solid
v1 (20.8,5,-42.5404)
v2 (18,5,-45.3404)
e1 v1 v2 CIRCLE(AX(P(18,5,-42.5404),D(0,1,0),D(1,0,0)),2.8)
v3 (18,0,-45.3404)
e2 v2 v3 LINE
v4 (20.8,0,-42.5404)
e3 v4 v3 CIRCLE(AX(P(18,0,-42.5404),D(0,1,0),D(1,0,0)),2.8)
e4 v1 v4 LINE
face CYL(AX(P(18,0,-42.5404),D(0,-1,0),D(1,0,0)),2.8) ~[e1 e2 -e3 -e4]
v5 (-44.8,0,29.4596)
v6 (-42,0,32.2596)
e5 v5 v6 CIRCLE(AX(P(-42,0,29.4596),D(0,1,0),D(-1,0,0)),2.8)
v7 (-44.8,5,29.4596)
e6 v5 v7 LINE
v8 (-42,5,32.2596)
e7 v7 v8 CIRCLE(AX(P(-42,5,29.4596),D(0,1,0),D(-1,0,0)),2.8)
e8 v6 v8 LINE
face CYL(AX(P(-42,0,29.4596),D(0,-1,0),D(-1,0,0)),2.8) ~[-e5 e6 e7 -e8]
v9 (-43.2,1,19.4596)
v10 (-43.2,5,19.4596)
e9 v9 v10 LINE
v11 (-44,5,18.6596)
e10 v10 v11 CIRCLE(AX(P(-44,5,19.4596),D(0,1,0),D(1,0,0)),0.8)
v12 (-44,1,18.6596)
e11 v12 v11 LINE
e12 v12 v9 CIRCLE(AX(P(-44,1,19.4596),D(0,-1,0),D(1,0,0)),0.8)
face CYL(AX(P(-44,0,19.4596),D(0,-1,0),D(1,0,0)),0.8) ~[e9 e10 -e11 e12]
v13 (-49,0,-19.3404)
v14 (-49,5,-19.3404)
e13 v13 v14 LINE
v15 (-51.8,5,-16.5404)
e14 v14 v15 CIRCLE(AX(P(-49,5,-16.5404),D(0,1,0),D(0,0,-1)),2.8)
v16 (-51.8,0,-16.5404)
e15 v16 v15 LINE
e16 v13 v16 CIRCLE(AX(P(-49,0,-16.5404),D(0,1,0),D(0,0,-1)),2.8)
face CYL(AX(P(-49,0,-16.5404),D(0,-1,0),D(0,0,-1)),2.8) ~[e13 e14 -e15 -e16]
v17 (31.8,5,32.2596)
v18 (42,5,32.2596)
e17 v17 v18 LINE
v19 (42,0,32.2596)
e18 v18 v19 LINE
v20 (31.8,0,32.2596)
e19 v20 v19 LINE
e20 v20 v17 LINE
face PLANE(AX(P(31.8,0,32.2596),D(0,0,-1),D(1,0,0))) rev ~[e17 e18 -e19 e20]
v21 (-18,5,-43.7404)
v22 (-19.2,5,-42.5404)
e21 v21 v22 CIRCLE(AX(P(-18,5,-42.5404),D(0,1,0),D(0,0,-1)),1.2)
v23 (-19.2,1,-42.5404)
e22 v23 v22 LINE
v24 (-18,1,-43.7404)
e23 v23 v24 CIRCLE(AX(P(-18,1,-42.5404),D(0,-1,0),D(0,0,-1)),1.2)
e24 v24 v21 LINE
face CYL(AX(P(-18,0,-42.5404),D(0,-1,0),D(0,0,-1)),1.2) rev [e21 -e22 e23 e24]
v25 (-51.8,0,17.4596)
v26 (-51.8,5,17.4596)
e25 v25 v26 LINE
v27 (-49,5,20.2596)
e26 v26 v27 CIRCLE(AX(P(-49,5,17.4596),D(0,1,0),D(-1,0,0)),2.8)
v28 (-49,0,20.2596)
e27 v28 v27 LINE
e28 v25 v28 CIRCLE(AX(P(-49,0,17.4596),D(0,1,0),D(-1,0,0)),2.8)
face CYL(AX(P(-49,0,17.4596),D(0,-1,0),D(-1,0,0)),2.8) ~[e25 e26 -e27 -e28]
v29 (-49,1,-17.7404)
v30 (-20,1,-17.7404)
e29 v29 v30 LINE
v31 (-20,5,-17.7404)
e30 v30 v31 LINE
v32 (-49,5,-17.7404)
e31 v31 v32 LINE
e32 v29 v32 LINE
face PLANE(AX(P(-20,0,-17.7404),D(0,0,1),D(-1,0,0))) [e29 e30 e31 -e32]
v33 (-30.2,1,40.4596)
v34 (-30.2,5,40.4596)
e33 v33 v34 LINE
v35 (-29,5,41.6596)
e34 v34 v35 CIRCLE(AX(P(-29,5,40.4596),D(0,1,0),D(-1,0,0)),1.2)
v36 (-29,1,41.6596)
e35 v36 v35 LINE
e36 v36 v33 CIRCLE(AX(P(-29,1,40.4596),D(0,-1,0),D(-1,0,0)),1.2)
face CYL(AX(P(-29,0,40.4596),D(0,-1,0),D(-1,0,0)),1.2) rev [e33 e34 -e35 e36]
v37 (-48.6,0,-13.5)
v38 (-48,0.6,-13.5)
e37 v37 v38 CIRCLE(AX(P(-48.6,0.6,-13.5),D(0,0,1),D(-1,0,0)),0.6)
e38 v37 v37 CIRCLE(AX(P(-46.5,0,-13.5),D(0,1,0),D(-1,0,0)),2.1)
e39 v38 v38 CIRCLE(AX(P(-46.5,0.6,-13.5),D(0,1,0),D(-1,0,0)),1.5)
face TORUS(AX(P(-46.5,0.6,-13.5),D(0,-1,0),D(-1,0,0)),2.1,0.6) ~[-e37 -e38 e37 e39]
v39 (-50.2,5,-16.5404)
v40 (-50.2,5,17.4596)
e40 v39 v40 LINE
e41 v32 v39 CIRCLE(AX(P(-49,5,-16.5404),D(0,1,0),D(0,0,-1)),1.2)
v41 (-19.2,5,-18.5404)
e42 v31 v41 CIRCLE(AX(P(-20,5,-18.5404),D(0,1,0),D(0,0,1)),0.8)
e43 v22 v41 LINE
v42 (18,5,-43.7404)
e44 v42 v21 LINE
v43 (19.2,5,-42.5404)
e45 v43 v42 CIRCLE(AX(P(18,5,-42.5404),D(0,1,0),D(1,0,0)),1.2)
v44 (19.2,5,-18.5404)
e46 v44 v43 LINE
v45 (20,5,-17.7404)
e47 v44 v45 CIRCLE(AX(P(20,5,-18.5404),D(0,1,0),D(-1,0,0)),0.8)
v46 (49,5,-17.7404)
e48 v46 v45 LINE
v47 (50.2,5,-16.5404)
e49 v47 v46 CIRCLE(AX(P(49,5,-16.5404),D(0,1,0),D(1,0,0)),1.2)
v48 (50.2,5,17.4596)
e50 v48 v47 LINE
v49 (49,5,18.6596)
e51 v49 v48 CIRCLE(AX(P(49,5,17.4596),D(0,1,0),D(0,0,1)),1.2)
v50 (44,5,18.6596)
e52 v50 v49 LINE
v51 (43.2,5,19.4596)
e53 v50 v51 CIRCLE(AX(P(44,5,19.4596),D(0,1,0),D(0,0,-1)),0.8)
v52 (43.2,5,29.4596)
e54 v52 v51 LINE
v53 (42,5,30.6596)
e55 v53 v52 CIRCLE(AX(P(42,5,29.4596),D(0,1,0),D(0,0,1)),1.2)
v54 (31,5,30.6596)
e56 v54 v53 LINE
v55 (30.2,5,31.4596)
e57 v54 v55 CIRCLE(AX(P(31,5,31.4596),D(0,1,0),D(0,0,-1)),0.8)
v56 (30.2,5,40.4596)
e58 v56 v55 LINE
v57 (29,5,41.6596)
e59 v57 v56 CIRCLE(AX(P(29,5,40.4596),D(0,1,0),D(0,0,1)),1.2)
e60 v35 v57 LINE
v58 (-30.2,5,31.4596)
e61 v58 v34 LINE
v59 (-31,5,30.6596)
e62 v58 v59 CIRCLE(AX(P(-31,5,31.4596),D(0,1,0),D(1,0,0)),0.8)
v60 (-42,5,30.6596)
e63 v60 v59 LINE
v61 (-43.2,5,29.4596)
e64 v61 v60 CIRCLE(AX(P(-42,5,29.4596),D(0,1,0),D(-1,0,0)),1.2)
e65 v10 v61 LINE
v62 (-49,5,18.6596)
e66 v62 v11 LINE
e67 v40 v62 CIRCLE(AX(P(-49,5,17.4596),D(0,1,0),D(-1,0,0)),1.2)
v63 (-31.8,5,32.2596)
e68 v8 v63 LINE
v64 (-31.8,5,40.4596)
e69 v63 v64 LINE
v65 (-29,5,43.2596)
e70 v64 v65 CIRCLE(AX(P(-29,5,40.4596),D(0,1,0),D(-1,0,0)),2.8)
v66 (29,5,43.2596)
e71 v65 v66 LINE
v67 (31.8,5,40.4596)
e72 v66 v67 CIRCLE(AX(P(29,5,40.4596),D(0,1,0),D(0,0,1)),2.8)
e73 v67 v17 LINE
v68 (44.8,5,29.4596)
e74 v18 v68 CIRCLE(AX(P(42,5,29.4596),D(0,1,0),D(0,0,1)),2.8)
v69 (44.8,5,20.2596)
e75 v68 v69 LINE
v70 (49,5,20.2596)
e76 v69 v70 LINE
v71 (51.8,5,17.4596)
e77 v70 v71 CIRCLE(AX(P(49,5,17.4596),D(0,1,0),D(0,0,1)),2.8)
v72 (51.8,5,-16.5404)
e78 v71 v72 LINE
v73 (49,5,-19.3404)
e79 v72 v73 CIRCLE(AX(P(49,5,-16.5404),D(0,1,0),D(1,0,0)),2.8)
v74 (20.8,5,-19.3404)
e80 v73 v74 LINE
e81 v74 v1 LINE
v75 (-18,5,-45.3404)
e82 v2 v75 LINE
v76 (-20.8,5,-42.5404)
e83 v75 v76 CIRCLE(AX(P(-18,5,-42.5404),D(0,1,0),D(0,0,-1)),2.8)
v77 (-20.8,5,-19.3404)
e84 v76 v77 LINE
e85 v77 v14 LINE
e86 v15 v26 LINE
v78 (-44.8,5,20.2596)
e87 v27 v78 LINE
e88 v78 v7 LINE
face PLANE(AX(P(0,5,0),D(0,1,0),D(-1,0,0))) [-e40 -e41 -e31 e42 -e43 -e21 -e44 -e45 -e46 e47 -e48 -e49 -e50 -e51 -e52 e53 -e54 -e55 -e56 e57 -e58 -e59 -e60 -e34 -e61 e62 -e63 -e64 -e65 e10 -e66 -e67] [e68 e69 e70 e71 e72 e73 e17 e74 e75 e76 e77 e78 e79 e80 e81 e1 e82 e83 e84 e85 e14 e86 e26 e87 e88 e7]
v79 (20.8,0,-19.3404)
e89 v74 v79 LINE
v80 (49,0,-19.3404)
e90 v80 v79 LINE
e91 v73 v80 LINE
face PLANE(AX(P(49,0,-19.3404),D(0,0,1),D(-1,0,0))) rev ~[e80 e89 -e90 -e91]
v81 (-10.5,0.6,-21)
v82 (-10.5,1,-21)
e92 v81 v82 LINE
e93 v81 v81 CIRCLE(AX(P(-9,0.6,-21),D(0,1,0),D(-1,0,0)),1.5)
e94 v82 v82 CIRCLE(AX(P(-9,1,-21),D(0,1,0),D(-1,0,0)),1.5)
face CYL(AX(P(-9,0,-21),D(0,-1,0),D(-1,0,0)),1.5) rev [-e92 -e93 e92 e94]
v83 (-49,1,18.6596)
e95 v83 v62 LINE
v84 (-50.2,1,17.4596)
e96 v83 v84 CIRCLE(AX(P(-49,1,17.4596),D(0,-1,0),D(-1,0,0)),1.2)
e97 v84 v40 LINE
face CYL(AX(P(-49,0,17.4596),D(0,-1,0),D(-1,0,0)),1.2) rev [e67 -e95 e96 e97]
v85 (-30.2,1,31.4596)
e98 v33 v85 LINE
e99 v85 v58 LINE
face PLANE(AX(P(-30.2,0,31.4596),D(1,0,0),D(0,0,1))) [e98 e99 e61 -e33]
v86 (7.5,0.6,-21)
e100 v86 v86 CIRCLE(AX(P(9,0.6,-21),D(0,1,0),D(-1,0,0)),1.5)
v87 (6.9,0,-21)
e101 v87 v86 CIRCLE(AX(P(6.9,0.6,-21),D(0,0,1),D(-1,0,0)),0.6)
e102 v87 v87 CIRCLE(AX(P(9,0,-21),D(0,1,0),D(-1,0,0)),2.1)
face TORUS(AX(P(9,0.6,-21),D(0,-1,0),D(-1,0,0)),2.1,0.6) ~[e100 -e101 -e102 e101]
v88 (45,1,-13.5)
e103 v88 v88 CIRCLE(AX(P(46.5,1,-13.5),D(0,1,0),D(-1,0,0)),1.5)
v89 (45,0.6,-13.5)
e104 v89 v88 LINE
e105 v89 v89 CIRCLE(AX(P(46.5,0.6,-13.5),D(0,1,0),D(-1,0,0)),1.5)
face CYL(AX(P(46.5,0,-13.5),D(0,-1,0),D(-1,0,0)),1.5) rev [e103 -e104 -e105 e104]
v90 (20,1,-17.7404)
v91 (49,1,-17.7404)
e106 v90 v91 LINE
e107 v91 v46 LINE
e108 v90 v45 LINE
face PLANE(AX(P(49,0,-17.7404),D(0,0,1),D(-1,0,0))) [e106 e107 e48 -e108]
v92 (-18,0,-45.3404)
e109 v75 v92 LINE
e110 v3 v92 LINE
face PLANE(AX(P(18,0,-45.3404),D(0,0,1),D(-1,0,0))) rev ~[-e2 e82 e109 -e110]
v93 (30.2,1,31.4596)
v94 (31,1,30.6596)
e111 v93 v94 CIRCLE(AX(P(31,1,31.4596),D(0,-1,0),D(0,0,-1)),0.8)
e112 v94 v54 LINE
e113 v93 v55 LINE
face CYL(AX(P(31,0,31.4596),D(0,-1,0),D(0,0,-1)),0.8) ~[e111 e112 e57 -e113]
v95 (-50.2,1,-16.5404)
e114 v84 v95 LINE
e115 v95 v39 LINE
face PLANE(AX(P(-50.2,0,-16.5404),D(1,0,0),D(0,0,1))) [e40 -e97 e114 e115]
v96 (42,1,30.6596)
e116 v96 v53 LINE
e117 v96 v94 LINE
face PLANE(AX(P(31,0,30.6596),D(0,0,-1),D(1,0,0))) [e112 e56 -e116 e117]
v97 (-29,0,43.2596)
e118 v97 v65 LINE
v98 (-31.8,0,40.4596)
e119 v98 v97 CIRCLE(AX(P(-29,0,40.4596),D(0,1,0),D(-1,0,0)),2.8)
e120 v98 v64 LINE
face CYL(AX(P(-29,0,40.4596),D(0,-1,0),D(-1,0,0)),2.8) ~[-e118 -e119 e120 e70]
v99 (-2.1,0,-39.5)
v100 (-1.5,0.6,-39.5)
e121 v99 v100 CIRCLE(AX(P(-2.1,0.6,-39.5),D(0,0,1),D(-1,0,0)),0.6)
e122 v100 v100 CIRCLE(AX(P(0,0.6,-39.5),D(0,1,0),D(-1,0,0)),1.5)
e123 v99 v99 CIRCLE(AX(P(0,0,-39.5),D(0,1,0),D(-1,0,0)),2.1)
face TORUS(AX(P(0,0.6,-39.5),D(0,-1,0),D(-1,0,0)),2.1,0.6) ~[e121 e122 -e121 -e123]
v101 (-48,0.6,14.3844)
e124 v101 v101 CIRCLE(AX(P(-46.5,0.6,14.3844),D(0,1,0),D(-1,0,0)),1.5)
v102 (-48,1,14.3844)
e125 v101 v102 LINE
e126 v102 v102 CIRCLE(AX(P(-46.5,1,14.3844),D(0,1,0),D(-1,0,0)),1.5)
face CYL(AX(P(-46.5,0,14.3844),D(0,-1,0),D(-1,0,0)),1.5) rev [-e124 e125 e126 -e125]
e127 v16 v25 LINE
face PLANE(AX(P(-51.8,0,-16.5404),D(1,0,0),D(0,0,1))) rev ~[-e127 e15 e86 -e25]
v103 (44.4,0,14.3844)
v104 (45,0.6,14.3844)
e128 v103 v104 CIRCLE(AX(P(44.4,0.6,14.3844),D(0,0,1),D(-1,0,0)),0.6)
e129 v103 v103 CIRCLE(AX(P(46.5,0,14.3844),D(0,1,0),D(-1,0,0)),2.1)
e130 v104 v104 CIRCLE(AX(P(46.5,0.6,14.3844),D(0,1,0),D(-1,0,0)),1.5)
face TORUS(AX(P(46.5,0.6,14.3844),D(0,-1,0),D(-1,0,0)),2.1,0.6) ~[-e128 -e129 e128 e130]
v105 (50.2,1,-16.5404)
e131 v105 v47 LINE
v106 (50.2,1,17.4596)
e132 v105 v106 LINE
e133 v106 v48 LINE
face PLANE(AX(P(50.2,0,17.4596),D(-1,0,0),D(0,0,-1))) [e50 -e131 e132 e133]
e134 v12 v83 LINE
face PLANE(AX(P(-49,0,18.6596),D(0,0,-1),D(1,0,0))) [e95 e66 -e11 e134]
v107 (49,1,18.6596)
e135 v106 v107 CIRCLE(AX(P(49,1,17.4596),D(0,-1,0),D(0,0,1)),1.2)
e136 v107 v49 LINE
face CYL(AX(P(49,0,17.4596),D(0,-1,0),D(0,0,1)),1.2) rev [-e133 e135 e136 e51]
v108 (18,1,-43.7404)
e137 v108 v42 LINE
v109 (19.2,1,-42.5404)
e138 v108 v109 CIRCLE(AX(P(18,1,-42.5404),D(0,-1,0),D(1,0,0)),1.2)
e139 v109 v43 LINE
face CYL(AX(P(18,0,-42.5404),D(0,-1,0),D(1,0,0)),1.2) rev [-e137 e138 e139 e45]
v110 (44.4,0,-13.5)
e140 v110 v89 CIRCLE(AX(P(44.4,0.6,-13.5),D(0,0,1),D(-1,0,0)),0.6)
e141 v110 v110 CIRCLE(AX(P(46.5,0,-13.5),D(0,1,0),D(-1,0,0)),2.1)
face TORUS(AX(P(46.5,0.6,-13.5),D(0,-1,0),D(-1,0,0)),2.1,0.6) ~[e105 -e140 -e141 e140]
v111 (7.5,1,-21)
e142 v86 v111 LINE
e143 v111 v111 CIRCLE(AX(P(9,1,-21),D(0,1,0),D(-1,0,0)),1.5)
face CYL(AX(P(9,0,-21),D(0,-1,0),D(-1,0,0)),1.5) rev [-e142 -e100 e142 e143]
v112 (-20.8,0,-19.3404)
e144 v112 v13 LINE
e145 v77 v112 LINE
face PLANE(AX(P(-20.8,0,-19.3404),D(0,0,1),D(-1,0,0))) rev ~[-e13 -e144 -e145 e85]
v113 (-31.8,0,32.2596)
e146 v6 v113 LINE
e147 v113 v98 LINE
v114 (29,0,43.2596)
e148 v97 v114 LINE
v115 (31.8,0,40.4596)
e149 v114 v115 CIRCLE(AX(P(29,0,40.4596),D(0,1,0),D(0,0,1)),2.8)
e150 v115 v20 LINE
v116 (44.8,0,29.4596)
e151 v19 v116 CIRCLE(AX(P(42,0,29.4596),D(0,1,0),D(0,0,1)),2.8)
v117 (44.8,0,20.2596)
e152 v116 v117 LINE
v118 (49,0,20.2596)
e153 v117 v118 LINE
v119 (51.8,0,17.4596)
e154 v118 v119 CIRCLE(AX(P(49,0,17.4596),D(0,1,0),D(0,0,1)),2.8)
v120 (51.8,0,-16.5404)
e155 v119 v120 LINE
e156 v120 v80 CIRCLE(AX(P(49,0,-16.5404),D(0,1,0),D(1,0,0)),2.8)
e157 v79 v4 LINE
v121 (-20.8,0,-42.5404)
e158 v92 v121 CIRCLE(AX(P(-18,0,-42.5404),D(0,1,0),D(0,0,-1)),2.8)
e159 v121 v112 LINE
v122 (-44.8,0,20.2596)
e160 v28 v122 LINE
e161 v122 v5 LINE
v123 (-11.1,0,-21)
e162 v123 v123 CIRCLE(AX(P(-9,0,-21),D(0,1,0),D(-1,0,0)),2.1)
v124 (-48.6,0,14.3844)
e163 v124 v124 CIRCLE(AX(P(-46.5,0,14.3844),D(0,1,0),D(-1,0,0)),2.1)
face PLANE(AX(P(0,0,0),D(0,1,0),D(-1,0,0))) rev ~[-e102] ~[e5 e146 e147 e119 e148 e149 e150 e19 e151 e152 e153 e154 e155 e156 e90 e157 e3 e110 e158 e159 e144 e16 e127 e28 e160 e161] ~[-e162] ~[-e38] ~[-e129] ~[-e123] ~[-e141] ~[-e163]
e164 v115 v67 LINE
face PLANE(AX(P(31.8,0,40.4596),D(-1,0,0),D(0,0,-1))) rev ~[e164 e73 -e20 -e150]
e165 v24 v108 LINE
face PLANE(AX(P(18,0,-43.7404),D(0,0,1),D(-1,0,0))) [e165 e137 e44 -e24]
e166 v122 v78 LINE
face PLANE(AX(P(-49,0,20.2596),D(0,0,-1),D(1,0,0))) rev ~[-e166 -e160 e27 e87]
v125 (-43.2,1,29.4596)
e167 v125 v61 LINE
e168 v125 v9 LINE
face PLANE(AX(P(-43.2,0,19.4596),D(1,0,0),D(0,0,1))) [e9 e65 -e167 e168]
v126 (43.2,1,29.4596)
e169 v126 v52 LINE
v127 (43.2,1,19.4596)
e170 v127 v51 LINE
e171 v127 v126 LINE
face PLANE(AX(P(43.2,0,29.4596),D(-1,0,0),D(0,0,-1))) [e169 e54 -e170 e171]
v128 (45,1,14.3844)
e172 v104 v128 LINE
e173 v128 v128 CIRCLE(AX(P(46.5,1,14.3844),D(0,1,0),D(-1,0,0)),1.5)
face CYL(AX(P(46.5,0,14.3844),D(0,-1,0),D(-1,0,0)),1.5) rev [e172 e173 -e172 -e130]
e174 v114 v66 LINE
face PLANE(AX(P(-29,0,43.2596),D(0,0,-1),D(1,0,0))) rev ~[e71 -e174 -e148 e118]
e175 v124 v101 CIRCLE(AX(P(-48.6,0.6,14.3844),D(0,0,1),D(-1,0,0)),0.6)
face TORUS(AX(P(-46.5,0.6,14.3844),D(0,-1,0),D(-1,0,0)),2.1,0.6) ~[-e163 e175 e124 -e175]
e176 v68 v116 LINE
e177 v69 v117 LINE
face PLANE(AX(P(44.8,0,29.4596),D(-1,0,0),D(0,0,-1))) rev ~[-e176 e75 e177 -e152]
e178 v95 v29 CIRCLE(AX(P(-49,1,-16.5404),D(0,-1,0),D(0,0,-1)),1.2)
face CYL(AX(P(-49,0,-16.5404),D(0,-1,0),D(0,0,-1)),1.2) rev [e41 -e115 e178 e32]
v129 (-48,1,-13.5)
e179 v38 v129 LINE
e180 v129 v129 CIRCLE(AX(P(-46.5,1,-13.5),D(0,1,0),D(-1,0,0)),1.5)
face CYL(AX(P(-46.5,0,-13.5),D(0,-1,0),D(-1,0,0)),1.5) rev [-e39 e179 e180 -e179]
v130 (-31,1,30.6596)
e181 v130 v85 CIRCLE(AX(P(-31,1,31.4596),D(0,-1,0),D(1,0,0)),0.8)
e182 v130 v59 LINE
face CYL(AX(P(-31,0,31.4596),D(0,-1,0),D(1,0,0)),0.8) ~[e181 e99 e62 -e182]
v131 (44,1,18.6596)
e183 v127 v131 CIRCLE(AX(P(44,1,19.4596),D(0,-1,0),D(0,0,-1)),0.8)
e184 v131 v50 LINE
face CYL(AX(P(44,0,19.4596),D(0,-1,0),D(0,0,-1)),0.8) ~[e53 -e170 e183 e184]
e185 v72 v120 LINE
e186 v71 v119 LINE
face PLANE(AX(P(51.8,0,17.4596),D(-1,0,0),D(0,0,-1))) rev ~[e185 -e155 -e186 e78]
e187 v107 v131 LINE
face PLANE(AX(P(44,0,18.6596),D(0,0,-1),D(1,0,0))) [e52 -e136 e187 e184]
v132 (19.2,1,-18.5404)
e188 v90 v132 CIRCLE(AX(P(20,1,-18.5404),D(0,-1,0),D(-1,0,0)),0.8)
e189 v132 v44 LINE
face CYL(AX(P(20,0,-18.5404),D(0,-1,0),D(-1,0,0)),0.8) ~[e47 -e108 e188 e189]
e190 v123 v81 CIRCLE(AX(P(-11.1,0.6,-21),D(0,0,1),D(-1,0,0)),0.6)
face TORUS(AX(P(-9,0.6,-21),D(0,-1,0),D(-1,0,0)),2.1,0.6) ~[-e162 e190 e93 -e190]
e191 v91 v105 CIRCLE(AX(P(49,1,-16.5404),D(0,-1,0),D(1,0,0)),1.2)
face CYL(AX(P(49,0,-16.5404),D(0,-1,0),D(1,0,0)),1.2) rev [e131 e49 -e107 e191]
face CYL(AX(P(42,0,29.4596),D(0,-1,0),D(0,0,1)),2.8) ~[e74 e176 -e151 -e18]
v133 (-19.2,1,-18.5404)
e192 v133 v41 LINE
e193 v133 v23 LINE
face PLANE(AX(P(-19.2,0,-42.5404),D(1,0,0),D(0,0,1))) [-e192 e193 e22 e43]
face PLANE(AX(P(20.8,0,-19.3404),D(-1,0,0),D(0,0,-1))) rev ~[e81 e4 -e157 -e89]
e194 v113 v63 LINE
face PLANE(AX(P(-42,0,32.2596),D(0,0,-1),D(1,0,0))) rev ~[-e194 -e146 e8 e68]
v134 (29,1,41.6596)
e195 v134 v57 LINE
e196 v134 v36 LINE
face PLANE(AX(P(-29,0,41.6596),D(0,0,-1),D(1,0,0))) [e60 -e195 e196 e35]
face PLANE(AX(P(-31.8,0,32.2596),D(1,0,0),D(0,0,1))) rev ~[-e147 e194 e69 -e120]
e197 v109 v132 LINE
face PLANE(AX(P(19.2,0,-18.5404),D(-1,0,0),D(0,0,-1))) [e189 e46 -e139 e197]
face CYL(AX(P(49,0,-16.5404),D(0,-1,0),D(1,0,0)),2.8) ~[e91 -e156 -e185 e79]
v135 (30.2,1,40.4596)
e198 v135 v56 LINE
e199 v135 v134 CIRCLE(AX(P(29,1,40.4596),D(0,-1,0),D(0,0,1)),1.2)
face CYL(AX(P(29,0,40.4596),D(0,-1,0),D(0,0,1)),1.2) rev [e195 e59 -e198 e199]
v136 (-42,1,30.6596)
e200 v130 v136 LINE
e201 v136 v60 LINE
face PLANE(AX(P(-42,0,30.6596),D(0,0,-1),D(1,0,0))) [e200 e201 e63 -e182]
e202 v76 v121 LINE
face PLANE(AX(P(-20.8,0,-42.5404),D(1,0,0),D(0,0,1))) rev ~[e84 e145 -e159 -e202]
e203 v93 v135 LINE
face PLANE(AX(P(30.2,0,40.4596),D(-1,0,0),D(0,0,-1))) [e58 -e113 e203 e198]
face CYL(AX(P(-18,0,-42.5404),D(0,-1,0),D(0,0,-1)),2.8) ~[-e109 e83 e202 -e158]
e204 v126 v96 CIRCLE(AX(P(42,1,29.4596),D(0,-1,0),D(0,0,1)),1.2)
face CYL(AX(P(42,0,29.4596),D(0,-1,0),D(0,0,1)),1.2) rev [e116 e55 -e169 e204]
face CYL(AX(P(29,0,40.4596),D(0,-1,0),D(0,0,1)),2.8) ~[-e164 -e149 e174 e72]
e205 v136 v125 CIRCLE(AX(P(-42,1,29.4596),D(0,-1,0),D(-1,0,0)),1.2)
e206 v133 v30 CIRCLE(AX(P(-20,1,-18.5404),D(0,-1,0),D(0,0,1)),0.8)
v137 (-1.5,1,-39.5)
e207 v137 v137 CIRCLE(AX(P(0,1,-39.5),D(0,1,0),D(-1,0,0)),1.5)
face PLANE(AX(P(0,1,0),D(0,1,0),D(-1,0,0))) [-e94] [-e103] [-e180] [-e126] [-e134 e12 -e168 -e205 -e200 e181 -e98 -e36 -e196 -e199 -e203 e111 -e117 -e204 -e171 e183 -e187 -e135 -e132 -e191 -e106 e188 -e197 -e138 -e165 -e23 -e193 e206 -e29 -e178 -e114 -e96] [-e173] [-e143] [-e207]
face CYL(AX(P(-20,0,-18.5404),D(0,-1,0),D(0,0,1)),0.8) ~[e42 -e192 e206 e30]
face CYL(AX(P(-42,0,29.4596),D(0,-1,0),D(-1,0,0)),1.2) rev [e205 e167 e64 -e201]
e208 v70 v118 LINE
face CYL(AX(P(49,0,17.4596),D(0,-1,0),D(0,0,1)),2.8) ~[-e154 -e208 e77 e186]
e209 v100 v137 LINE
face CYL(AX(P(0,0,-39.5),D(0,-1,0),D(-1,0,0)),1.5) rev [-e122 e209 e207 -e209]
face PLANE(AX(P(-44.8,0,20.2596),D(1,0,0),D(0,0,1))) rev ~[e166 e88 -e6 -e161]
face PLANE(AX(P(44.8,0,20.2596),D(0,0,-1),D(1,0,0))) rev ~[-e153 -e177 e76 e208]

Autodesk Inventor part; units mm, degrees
ref_plane "YZ Plane" through (0, 0, 0) normal (1, 0, 0) x (0, 1, 0)
ref_plane "XZ Plane" through (0, 0, 0) normal (0, 1, 0) x (-1, 0, 0)
ref_plane "XY Plane" through (0, 0, 0) normal (0, 0, 1) x (1, 0, 0)
sketch "Szkic1" plane through (0, 0, 0) normal (0, 1, 0) x (-1, 0, 0)
  arc A0 (49, -17.5404) -> (50, -16.5404) centre (49, -16.5404) ccw
  line L0 (20, -17.5404) -> (49, -17.5404)
  line L1 (50, -16.5404) -> (50, 17.4596)
  arc A1 (50, 17.4596) -> (49, 18.4596) centre (49, 17.4596) ccw
  line L2 (49, 18.4596) -> (44, 18.4596)
  arc A2 (43, 19.4596) -> (44, 18.4596) centre (44, 19.4596) ccw
  line L3 (43, 19.4596) -> (43, 29.4596)
  line L4 (42, 30.4596) -> (31, 30.4596)
  arc A3 (43, 29.4596) -> (42, 30.4596) centre (42, 29.4596) ccw
  arc A4 (30, 31.4596) -> (31, 30.4596) centre (31, 31.4596) ccw
  line L5 (30, 31.4596) -> (30, 40.4596)
  arc A5 (30, 40.4596) -> (29, 41.4596) centre (29, 40.4596) ccw
  line L6 (29, 41.4596) -> (-29, 41.4596)
  line L7 (-30, 40.4596) -> (-30, 31.4596)
  arc A6 (-29, 41.4596) -> (-30, 40.4596) centre (-29, 40.4596) ccw
  arc A7 (-31, 30.4596) -> (-30, 31.4596) centre (-31, 31.4596) ccw
  line L8 (-31, 30.4596) -> (-42, 30.4596)
  arc A8 (-42, 30.4596) -> (-43, 29.4596) centre (-42, 29.4596) ccw
  line L9 (-43, 29.4596) -> (-43, 19.4596)
  arc A9 (-44, 18.4596) -> (-43, 19.4596) centre (-44, 19.4596) ccw
  line L10 (-44, 18.4596) -> (-49, 18.4596)
  arc A10 (-49, 18.4596) -> (-50, 17.4596) centre (-49, 17.4596) ccw
  line L11 (-50, 17.4596) -> (-50, -16.5404)
  line L12 (-49, -17.5404) -> (-20, -17.5404)
  arc A11 (-50, -16.5404) -> (-49, -17.5404) centre (-49, -16.5404) ccw
  arc A12 (-19, -18.5404) -> (-20, -17.5404) centre (-20, -18.5404) ccw
  line L13 (-19, -18.5404) -> (-19, -42.5404)
  arc A13 (20, -17.5404) -> (19, -18.5404) centre (20, -18.5404) ccw
  line L14 (19, -42.5404) -> (19, -18.5404)
  line L15 (-18, -43.5404) -> (18, -43.5404)
  arc A14 (18, -43.5404) -> (19, -42.5404) centre (18, -42.5404) ccw
  arc A15 (-19, -42.5404) -> (-18, -43.5404) centre (-18, -42.5404) ccw
  circle A16 centre (0, -39.5) radius 1.5
  circle A17 centre (9, -21) radius 1.5
  circle A18 centre (-9, -21) radius 1.5
  circle A19 centre (-46.5, -13.5) radius 1.5
  circle A20 centre (46.5, -13.5) radius 1.5
  circle A21 centre (46.5, 14.3844) radius 1.5
  circle A22 centre (-46.5, 14.3844) radius 1.5
  arc A23 (49, -17.7404) -> (50.2, -16.5404) centre (49, -16.5404) ccw
  line L16 (50.2, -16.5404) -> (50.2, 17.4596)
  arc A24 (50.2, 17.4596) -> (49, 18.6596) centre (49, 17.4596) ccw
  line L17 (49, 18.6596) -> (44, 18.6596)
  arc A25 (43.2, 19.4596) -> (44, 18.6596) centre (44, 19.4596) ccw
  line L18 (43.2, 19.4596) -> (43.2, 29.4596)
  arc A26 (43.2, 29.4596) -> (42, 30.6596) centre (42, 29.4596) ccw
  line L19 (42, 30.6596) -> (31, 30.6596)
  arc A27 (30.2, 31.4596) -> (31, 30.6596) centre (31, 31.4596) ccw
  line L20 (30.2, 31.4596) -> (30.2, 40.4596)
  arc A28 (30.2, 40.4596) -> (29, 41.6596) centre (29, 40.4596) ccw
  line L21 (29, 41.6596) -> (-29, 41.6596)
  arc A29 (-29, 41.6596) -> (-30.2, 40.4596) centre (-29, 40.4596) ccw
  line L22 (-30.2, 40.4596) -> (-30.2, 31.4596)
  arc A30 (-31, 30.6596) -> (-30.2, 31.4596) centre (-31, 31.4596) ccw
  line L23 (-31, 30.6596) -> (-42, 30.6596)
  arc A31 (-42, 30.6596) -> (-43.2, 29.4596) centre (-42, 29.4596) ccw
  line L24 (-43.2, 29.4596) -> (-43.2, 19.4596)
  arc A32 (-44, 18.6596) -> (-43.2, 19.4596) centre (-44, 19.4596) ccw
  line L25 (-44, 18.6596) -> (-49, 18.6596)
  arc A33 (-49, 18.6596) -> (-50.2, 17.4596) centre (-49, 17.4596) ccw
  line L26 (-50.2, 17.4596) -> (-50.2, -16.5404)
  arc A34 (-50.2, -16.5404) -> (-49, -17.7404) centre (-49, -16.5404) ccw
  line L27 (-49, -17.7404) -> (-20, -17.7404)
  arc A35 (-19.2, -18.5404) -> (-20, -17.7404) centre (-20, -18.5404) ccw
  line L28 (-19.2, -18.5404) -> (-19.2, -42.5404)
  arc A36 (-19.2, -42.5404) -> (-18, -43.7404) centre (-18, -42.5404) ccw
  line L29 (-18, -43.7404) -> (18, -43.7404)
  arc A37 (18, -43.7404) -> (19.2, -42.5404) centre (18, -42.5404) ccw
  line L30 (19.2, -42.5404) -> (19.2, -18.5404)
  arc A38 (20, -17.7404) -> (19.2, -18.5404) centre (20, -18.5404) ccw
  line L31 (20, -17.7404) -> (49, -17.7404)
  arc A39 (49, -19.3404) -> (51.8, -16.5404) centre (49, -16.5404) ccw
  line L32 (51.8, -16.5404) -> (51.8, 17.4596)
  arc A40 (51.8, 17.4596) -> (49, 20.2596) centre (49, 17.4596) ccw
  line L33 (49, 20.2596) -> (44.8, 20.2596)
  line L34 (44.8, 20.2596) -> (44.8, 29.4596)
  arc A41 (44.8, 29.4596) -> (42, 32.2596) centre (42, 29.4596) ccw
  line L35 (42, 32.2596) -> (31.8, 32.2596)
  line L36 (31.8, 32.2596) -> (31.8, 40.4596)
  arc A42 (31.8, 40.4596) -> (29, 43.2596) centre (29, 40.4596) ccw
  line L37 (29, 43.2596) -> (-29, 43.2596)
  arc A43 (-29, 43.2596) -> (-31.8, 40.4596) centre (-29, 40.4596) ccw
  line L38 (-31.8, 40.4596) -> (-31.8, 32.2596)
  line L39 (-31.8, 32.2596) -> (-42, 32.2596)
  arc A44 (-42, 32.2596) -> (-44.8, 29.4596) centre (-42, 29.4596) ccw
  line L40 (-44.8, 29.4596) -> (-44.8, 20.2596)
  line L41 (-44.8, 20.2596) -> (-49, 20.2596)
  arc A45 (-49, 20.2596) -> (-51.8, 17.4596) centre (-49, 17.4596) ccw
  line L42 (-51.8, 17.4596) -> (-51.8, -16.5404)
  arc A46 (-51.8, -16.5404) -> (-49, -19.3404) centre (-49, -16.5404) ccw
  line L43 (-49, -19.3404) -> (-20.8, -19.3404)
  line L44 (-20.8, -19.3404) -> (-20.8, -42.5404)
  arc A47 (-20.8, -42.5404) -> (-18, -45.3404) centre (-18, -42.5404) ccw
  line L45 (-18, -45.3404) -> (18, -45.3404)
  arc A48 (18, -45.3404) -> (20.8, -42.5404) centre (18, -42.5404) ccw
  line L46 (20.8, -42.5404) -> (20.8, -19.3404)
  line L47 (20.8, -19.3404) -> (49, -19.3404)
  point P0 (0, 0)
  point P1 (0, 0)
  dimension "d0" = 0.2
  dimension "d1" = 1.6
extrude "Wyciągnięcie proste1" add sketch "Szkic1" along normal blind 1 contours L0 A13 L14 A14 L15 A15 L13 A12 L12 A11 L11 A10 L10 A9 L9 A8 L8 A7 L7 A6 L6 A5 L5 A4 L4 A3 L3 A2 L2 A1 L1 A0 | L31 A38 L30 A37 L29 A36 L28 A35 L27 A34 L26 A33 L25 A32 L24 A31 L23 A30 L22 A29 L21 A28 L20 A27 L19 A26 L18 A25 L17 A24 L16 A23 | L47 L46 A48 L45 A47 L44 L43 A46 L42 A45 L41 L40 A44 L39 L38 A43 L37 A42 L36 L35 A41 L34 L33 A40 L32 A39
extrude "Wyciągnięcie proste2" add sketch "Szkic1" along normal blind 5 contours L47 L46 A48 L45 A47 L44 L43 A46 L42 A45 L41 L40 A44 L39 L38 A43 L37 A42 L36 L35 A41 L34 L33 A40 L32 A39
fillet "Zaokrąglenie1" radius 0.6 7 edges at (48, 0, -13.5) (10.5, 0, -21) (1.5, 0, -39.5) (-7.5, 0, -21) (48, 0, 14.3844) (-45, 0, 14.3844) (-45, 0, -13.5)
properties part number "forma_podstawa"
